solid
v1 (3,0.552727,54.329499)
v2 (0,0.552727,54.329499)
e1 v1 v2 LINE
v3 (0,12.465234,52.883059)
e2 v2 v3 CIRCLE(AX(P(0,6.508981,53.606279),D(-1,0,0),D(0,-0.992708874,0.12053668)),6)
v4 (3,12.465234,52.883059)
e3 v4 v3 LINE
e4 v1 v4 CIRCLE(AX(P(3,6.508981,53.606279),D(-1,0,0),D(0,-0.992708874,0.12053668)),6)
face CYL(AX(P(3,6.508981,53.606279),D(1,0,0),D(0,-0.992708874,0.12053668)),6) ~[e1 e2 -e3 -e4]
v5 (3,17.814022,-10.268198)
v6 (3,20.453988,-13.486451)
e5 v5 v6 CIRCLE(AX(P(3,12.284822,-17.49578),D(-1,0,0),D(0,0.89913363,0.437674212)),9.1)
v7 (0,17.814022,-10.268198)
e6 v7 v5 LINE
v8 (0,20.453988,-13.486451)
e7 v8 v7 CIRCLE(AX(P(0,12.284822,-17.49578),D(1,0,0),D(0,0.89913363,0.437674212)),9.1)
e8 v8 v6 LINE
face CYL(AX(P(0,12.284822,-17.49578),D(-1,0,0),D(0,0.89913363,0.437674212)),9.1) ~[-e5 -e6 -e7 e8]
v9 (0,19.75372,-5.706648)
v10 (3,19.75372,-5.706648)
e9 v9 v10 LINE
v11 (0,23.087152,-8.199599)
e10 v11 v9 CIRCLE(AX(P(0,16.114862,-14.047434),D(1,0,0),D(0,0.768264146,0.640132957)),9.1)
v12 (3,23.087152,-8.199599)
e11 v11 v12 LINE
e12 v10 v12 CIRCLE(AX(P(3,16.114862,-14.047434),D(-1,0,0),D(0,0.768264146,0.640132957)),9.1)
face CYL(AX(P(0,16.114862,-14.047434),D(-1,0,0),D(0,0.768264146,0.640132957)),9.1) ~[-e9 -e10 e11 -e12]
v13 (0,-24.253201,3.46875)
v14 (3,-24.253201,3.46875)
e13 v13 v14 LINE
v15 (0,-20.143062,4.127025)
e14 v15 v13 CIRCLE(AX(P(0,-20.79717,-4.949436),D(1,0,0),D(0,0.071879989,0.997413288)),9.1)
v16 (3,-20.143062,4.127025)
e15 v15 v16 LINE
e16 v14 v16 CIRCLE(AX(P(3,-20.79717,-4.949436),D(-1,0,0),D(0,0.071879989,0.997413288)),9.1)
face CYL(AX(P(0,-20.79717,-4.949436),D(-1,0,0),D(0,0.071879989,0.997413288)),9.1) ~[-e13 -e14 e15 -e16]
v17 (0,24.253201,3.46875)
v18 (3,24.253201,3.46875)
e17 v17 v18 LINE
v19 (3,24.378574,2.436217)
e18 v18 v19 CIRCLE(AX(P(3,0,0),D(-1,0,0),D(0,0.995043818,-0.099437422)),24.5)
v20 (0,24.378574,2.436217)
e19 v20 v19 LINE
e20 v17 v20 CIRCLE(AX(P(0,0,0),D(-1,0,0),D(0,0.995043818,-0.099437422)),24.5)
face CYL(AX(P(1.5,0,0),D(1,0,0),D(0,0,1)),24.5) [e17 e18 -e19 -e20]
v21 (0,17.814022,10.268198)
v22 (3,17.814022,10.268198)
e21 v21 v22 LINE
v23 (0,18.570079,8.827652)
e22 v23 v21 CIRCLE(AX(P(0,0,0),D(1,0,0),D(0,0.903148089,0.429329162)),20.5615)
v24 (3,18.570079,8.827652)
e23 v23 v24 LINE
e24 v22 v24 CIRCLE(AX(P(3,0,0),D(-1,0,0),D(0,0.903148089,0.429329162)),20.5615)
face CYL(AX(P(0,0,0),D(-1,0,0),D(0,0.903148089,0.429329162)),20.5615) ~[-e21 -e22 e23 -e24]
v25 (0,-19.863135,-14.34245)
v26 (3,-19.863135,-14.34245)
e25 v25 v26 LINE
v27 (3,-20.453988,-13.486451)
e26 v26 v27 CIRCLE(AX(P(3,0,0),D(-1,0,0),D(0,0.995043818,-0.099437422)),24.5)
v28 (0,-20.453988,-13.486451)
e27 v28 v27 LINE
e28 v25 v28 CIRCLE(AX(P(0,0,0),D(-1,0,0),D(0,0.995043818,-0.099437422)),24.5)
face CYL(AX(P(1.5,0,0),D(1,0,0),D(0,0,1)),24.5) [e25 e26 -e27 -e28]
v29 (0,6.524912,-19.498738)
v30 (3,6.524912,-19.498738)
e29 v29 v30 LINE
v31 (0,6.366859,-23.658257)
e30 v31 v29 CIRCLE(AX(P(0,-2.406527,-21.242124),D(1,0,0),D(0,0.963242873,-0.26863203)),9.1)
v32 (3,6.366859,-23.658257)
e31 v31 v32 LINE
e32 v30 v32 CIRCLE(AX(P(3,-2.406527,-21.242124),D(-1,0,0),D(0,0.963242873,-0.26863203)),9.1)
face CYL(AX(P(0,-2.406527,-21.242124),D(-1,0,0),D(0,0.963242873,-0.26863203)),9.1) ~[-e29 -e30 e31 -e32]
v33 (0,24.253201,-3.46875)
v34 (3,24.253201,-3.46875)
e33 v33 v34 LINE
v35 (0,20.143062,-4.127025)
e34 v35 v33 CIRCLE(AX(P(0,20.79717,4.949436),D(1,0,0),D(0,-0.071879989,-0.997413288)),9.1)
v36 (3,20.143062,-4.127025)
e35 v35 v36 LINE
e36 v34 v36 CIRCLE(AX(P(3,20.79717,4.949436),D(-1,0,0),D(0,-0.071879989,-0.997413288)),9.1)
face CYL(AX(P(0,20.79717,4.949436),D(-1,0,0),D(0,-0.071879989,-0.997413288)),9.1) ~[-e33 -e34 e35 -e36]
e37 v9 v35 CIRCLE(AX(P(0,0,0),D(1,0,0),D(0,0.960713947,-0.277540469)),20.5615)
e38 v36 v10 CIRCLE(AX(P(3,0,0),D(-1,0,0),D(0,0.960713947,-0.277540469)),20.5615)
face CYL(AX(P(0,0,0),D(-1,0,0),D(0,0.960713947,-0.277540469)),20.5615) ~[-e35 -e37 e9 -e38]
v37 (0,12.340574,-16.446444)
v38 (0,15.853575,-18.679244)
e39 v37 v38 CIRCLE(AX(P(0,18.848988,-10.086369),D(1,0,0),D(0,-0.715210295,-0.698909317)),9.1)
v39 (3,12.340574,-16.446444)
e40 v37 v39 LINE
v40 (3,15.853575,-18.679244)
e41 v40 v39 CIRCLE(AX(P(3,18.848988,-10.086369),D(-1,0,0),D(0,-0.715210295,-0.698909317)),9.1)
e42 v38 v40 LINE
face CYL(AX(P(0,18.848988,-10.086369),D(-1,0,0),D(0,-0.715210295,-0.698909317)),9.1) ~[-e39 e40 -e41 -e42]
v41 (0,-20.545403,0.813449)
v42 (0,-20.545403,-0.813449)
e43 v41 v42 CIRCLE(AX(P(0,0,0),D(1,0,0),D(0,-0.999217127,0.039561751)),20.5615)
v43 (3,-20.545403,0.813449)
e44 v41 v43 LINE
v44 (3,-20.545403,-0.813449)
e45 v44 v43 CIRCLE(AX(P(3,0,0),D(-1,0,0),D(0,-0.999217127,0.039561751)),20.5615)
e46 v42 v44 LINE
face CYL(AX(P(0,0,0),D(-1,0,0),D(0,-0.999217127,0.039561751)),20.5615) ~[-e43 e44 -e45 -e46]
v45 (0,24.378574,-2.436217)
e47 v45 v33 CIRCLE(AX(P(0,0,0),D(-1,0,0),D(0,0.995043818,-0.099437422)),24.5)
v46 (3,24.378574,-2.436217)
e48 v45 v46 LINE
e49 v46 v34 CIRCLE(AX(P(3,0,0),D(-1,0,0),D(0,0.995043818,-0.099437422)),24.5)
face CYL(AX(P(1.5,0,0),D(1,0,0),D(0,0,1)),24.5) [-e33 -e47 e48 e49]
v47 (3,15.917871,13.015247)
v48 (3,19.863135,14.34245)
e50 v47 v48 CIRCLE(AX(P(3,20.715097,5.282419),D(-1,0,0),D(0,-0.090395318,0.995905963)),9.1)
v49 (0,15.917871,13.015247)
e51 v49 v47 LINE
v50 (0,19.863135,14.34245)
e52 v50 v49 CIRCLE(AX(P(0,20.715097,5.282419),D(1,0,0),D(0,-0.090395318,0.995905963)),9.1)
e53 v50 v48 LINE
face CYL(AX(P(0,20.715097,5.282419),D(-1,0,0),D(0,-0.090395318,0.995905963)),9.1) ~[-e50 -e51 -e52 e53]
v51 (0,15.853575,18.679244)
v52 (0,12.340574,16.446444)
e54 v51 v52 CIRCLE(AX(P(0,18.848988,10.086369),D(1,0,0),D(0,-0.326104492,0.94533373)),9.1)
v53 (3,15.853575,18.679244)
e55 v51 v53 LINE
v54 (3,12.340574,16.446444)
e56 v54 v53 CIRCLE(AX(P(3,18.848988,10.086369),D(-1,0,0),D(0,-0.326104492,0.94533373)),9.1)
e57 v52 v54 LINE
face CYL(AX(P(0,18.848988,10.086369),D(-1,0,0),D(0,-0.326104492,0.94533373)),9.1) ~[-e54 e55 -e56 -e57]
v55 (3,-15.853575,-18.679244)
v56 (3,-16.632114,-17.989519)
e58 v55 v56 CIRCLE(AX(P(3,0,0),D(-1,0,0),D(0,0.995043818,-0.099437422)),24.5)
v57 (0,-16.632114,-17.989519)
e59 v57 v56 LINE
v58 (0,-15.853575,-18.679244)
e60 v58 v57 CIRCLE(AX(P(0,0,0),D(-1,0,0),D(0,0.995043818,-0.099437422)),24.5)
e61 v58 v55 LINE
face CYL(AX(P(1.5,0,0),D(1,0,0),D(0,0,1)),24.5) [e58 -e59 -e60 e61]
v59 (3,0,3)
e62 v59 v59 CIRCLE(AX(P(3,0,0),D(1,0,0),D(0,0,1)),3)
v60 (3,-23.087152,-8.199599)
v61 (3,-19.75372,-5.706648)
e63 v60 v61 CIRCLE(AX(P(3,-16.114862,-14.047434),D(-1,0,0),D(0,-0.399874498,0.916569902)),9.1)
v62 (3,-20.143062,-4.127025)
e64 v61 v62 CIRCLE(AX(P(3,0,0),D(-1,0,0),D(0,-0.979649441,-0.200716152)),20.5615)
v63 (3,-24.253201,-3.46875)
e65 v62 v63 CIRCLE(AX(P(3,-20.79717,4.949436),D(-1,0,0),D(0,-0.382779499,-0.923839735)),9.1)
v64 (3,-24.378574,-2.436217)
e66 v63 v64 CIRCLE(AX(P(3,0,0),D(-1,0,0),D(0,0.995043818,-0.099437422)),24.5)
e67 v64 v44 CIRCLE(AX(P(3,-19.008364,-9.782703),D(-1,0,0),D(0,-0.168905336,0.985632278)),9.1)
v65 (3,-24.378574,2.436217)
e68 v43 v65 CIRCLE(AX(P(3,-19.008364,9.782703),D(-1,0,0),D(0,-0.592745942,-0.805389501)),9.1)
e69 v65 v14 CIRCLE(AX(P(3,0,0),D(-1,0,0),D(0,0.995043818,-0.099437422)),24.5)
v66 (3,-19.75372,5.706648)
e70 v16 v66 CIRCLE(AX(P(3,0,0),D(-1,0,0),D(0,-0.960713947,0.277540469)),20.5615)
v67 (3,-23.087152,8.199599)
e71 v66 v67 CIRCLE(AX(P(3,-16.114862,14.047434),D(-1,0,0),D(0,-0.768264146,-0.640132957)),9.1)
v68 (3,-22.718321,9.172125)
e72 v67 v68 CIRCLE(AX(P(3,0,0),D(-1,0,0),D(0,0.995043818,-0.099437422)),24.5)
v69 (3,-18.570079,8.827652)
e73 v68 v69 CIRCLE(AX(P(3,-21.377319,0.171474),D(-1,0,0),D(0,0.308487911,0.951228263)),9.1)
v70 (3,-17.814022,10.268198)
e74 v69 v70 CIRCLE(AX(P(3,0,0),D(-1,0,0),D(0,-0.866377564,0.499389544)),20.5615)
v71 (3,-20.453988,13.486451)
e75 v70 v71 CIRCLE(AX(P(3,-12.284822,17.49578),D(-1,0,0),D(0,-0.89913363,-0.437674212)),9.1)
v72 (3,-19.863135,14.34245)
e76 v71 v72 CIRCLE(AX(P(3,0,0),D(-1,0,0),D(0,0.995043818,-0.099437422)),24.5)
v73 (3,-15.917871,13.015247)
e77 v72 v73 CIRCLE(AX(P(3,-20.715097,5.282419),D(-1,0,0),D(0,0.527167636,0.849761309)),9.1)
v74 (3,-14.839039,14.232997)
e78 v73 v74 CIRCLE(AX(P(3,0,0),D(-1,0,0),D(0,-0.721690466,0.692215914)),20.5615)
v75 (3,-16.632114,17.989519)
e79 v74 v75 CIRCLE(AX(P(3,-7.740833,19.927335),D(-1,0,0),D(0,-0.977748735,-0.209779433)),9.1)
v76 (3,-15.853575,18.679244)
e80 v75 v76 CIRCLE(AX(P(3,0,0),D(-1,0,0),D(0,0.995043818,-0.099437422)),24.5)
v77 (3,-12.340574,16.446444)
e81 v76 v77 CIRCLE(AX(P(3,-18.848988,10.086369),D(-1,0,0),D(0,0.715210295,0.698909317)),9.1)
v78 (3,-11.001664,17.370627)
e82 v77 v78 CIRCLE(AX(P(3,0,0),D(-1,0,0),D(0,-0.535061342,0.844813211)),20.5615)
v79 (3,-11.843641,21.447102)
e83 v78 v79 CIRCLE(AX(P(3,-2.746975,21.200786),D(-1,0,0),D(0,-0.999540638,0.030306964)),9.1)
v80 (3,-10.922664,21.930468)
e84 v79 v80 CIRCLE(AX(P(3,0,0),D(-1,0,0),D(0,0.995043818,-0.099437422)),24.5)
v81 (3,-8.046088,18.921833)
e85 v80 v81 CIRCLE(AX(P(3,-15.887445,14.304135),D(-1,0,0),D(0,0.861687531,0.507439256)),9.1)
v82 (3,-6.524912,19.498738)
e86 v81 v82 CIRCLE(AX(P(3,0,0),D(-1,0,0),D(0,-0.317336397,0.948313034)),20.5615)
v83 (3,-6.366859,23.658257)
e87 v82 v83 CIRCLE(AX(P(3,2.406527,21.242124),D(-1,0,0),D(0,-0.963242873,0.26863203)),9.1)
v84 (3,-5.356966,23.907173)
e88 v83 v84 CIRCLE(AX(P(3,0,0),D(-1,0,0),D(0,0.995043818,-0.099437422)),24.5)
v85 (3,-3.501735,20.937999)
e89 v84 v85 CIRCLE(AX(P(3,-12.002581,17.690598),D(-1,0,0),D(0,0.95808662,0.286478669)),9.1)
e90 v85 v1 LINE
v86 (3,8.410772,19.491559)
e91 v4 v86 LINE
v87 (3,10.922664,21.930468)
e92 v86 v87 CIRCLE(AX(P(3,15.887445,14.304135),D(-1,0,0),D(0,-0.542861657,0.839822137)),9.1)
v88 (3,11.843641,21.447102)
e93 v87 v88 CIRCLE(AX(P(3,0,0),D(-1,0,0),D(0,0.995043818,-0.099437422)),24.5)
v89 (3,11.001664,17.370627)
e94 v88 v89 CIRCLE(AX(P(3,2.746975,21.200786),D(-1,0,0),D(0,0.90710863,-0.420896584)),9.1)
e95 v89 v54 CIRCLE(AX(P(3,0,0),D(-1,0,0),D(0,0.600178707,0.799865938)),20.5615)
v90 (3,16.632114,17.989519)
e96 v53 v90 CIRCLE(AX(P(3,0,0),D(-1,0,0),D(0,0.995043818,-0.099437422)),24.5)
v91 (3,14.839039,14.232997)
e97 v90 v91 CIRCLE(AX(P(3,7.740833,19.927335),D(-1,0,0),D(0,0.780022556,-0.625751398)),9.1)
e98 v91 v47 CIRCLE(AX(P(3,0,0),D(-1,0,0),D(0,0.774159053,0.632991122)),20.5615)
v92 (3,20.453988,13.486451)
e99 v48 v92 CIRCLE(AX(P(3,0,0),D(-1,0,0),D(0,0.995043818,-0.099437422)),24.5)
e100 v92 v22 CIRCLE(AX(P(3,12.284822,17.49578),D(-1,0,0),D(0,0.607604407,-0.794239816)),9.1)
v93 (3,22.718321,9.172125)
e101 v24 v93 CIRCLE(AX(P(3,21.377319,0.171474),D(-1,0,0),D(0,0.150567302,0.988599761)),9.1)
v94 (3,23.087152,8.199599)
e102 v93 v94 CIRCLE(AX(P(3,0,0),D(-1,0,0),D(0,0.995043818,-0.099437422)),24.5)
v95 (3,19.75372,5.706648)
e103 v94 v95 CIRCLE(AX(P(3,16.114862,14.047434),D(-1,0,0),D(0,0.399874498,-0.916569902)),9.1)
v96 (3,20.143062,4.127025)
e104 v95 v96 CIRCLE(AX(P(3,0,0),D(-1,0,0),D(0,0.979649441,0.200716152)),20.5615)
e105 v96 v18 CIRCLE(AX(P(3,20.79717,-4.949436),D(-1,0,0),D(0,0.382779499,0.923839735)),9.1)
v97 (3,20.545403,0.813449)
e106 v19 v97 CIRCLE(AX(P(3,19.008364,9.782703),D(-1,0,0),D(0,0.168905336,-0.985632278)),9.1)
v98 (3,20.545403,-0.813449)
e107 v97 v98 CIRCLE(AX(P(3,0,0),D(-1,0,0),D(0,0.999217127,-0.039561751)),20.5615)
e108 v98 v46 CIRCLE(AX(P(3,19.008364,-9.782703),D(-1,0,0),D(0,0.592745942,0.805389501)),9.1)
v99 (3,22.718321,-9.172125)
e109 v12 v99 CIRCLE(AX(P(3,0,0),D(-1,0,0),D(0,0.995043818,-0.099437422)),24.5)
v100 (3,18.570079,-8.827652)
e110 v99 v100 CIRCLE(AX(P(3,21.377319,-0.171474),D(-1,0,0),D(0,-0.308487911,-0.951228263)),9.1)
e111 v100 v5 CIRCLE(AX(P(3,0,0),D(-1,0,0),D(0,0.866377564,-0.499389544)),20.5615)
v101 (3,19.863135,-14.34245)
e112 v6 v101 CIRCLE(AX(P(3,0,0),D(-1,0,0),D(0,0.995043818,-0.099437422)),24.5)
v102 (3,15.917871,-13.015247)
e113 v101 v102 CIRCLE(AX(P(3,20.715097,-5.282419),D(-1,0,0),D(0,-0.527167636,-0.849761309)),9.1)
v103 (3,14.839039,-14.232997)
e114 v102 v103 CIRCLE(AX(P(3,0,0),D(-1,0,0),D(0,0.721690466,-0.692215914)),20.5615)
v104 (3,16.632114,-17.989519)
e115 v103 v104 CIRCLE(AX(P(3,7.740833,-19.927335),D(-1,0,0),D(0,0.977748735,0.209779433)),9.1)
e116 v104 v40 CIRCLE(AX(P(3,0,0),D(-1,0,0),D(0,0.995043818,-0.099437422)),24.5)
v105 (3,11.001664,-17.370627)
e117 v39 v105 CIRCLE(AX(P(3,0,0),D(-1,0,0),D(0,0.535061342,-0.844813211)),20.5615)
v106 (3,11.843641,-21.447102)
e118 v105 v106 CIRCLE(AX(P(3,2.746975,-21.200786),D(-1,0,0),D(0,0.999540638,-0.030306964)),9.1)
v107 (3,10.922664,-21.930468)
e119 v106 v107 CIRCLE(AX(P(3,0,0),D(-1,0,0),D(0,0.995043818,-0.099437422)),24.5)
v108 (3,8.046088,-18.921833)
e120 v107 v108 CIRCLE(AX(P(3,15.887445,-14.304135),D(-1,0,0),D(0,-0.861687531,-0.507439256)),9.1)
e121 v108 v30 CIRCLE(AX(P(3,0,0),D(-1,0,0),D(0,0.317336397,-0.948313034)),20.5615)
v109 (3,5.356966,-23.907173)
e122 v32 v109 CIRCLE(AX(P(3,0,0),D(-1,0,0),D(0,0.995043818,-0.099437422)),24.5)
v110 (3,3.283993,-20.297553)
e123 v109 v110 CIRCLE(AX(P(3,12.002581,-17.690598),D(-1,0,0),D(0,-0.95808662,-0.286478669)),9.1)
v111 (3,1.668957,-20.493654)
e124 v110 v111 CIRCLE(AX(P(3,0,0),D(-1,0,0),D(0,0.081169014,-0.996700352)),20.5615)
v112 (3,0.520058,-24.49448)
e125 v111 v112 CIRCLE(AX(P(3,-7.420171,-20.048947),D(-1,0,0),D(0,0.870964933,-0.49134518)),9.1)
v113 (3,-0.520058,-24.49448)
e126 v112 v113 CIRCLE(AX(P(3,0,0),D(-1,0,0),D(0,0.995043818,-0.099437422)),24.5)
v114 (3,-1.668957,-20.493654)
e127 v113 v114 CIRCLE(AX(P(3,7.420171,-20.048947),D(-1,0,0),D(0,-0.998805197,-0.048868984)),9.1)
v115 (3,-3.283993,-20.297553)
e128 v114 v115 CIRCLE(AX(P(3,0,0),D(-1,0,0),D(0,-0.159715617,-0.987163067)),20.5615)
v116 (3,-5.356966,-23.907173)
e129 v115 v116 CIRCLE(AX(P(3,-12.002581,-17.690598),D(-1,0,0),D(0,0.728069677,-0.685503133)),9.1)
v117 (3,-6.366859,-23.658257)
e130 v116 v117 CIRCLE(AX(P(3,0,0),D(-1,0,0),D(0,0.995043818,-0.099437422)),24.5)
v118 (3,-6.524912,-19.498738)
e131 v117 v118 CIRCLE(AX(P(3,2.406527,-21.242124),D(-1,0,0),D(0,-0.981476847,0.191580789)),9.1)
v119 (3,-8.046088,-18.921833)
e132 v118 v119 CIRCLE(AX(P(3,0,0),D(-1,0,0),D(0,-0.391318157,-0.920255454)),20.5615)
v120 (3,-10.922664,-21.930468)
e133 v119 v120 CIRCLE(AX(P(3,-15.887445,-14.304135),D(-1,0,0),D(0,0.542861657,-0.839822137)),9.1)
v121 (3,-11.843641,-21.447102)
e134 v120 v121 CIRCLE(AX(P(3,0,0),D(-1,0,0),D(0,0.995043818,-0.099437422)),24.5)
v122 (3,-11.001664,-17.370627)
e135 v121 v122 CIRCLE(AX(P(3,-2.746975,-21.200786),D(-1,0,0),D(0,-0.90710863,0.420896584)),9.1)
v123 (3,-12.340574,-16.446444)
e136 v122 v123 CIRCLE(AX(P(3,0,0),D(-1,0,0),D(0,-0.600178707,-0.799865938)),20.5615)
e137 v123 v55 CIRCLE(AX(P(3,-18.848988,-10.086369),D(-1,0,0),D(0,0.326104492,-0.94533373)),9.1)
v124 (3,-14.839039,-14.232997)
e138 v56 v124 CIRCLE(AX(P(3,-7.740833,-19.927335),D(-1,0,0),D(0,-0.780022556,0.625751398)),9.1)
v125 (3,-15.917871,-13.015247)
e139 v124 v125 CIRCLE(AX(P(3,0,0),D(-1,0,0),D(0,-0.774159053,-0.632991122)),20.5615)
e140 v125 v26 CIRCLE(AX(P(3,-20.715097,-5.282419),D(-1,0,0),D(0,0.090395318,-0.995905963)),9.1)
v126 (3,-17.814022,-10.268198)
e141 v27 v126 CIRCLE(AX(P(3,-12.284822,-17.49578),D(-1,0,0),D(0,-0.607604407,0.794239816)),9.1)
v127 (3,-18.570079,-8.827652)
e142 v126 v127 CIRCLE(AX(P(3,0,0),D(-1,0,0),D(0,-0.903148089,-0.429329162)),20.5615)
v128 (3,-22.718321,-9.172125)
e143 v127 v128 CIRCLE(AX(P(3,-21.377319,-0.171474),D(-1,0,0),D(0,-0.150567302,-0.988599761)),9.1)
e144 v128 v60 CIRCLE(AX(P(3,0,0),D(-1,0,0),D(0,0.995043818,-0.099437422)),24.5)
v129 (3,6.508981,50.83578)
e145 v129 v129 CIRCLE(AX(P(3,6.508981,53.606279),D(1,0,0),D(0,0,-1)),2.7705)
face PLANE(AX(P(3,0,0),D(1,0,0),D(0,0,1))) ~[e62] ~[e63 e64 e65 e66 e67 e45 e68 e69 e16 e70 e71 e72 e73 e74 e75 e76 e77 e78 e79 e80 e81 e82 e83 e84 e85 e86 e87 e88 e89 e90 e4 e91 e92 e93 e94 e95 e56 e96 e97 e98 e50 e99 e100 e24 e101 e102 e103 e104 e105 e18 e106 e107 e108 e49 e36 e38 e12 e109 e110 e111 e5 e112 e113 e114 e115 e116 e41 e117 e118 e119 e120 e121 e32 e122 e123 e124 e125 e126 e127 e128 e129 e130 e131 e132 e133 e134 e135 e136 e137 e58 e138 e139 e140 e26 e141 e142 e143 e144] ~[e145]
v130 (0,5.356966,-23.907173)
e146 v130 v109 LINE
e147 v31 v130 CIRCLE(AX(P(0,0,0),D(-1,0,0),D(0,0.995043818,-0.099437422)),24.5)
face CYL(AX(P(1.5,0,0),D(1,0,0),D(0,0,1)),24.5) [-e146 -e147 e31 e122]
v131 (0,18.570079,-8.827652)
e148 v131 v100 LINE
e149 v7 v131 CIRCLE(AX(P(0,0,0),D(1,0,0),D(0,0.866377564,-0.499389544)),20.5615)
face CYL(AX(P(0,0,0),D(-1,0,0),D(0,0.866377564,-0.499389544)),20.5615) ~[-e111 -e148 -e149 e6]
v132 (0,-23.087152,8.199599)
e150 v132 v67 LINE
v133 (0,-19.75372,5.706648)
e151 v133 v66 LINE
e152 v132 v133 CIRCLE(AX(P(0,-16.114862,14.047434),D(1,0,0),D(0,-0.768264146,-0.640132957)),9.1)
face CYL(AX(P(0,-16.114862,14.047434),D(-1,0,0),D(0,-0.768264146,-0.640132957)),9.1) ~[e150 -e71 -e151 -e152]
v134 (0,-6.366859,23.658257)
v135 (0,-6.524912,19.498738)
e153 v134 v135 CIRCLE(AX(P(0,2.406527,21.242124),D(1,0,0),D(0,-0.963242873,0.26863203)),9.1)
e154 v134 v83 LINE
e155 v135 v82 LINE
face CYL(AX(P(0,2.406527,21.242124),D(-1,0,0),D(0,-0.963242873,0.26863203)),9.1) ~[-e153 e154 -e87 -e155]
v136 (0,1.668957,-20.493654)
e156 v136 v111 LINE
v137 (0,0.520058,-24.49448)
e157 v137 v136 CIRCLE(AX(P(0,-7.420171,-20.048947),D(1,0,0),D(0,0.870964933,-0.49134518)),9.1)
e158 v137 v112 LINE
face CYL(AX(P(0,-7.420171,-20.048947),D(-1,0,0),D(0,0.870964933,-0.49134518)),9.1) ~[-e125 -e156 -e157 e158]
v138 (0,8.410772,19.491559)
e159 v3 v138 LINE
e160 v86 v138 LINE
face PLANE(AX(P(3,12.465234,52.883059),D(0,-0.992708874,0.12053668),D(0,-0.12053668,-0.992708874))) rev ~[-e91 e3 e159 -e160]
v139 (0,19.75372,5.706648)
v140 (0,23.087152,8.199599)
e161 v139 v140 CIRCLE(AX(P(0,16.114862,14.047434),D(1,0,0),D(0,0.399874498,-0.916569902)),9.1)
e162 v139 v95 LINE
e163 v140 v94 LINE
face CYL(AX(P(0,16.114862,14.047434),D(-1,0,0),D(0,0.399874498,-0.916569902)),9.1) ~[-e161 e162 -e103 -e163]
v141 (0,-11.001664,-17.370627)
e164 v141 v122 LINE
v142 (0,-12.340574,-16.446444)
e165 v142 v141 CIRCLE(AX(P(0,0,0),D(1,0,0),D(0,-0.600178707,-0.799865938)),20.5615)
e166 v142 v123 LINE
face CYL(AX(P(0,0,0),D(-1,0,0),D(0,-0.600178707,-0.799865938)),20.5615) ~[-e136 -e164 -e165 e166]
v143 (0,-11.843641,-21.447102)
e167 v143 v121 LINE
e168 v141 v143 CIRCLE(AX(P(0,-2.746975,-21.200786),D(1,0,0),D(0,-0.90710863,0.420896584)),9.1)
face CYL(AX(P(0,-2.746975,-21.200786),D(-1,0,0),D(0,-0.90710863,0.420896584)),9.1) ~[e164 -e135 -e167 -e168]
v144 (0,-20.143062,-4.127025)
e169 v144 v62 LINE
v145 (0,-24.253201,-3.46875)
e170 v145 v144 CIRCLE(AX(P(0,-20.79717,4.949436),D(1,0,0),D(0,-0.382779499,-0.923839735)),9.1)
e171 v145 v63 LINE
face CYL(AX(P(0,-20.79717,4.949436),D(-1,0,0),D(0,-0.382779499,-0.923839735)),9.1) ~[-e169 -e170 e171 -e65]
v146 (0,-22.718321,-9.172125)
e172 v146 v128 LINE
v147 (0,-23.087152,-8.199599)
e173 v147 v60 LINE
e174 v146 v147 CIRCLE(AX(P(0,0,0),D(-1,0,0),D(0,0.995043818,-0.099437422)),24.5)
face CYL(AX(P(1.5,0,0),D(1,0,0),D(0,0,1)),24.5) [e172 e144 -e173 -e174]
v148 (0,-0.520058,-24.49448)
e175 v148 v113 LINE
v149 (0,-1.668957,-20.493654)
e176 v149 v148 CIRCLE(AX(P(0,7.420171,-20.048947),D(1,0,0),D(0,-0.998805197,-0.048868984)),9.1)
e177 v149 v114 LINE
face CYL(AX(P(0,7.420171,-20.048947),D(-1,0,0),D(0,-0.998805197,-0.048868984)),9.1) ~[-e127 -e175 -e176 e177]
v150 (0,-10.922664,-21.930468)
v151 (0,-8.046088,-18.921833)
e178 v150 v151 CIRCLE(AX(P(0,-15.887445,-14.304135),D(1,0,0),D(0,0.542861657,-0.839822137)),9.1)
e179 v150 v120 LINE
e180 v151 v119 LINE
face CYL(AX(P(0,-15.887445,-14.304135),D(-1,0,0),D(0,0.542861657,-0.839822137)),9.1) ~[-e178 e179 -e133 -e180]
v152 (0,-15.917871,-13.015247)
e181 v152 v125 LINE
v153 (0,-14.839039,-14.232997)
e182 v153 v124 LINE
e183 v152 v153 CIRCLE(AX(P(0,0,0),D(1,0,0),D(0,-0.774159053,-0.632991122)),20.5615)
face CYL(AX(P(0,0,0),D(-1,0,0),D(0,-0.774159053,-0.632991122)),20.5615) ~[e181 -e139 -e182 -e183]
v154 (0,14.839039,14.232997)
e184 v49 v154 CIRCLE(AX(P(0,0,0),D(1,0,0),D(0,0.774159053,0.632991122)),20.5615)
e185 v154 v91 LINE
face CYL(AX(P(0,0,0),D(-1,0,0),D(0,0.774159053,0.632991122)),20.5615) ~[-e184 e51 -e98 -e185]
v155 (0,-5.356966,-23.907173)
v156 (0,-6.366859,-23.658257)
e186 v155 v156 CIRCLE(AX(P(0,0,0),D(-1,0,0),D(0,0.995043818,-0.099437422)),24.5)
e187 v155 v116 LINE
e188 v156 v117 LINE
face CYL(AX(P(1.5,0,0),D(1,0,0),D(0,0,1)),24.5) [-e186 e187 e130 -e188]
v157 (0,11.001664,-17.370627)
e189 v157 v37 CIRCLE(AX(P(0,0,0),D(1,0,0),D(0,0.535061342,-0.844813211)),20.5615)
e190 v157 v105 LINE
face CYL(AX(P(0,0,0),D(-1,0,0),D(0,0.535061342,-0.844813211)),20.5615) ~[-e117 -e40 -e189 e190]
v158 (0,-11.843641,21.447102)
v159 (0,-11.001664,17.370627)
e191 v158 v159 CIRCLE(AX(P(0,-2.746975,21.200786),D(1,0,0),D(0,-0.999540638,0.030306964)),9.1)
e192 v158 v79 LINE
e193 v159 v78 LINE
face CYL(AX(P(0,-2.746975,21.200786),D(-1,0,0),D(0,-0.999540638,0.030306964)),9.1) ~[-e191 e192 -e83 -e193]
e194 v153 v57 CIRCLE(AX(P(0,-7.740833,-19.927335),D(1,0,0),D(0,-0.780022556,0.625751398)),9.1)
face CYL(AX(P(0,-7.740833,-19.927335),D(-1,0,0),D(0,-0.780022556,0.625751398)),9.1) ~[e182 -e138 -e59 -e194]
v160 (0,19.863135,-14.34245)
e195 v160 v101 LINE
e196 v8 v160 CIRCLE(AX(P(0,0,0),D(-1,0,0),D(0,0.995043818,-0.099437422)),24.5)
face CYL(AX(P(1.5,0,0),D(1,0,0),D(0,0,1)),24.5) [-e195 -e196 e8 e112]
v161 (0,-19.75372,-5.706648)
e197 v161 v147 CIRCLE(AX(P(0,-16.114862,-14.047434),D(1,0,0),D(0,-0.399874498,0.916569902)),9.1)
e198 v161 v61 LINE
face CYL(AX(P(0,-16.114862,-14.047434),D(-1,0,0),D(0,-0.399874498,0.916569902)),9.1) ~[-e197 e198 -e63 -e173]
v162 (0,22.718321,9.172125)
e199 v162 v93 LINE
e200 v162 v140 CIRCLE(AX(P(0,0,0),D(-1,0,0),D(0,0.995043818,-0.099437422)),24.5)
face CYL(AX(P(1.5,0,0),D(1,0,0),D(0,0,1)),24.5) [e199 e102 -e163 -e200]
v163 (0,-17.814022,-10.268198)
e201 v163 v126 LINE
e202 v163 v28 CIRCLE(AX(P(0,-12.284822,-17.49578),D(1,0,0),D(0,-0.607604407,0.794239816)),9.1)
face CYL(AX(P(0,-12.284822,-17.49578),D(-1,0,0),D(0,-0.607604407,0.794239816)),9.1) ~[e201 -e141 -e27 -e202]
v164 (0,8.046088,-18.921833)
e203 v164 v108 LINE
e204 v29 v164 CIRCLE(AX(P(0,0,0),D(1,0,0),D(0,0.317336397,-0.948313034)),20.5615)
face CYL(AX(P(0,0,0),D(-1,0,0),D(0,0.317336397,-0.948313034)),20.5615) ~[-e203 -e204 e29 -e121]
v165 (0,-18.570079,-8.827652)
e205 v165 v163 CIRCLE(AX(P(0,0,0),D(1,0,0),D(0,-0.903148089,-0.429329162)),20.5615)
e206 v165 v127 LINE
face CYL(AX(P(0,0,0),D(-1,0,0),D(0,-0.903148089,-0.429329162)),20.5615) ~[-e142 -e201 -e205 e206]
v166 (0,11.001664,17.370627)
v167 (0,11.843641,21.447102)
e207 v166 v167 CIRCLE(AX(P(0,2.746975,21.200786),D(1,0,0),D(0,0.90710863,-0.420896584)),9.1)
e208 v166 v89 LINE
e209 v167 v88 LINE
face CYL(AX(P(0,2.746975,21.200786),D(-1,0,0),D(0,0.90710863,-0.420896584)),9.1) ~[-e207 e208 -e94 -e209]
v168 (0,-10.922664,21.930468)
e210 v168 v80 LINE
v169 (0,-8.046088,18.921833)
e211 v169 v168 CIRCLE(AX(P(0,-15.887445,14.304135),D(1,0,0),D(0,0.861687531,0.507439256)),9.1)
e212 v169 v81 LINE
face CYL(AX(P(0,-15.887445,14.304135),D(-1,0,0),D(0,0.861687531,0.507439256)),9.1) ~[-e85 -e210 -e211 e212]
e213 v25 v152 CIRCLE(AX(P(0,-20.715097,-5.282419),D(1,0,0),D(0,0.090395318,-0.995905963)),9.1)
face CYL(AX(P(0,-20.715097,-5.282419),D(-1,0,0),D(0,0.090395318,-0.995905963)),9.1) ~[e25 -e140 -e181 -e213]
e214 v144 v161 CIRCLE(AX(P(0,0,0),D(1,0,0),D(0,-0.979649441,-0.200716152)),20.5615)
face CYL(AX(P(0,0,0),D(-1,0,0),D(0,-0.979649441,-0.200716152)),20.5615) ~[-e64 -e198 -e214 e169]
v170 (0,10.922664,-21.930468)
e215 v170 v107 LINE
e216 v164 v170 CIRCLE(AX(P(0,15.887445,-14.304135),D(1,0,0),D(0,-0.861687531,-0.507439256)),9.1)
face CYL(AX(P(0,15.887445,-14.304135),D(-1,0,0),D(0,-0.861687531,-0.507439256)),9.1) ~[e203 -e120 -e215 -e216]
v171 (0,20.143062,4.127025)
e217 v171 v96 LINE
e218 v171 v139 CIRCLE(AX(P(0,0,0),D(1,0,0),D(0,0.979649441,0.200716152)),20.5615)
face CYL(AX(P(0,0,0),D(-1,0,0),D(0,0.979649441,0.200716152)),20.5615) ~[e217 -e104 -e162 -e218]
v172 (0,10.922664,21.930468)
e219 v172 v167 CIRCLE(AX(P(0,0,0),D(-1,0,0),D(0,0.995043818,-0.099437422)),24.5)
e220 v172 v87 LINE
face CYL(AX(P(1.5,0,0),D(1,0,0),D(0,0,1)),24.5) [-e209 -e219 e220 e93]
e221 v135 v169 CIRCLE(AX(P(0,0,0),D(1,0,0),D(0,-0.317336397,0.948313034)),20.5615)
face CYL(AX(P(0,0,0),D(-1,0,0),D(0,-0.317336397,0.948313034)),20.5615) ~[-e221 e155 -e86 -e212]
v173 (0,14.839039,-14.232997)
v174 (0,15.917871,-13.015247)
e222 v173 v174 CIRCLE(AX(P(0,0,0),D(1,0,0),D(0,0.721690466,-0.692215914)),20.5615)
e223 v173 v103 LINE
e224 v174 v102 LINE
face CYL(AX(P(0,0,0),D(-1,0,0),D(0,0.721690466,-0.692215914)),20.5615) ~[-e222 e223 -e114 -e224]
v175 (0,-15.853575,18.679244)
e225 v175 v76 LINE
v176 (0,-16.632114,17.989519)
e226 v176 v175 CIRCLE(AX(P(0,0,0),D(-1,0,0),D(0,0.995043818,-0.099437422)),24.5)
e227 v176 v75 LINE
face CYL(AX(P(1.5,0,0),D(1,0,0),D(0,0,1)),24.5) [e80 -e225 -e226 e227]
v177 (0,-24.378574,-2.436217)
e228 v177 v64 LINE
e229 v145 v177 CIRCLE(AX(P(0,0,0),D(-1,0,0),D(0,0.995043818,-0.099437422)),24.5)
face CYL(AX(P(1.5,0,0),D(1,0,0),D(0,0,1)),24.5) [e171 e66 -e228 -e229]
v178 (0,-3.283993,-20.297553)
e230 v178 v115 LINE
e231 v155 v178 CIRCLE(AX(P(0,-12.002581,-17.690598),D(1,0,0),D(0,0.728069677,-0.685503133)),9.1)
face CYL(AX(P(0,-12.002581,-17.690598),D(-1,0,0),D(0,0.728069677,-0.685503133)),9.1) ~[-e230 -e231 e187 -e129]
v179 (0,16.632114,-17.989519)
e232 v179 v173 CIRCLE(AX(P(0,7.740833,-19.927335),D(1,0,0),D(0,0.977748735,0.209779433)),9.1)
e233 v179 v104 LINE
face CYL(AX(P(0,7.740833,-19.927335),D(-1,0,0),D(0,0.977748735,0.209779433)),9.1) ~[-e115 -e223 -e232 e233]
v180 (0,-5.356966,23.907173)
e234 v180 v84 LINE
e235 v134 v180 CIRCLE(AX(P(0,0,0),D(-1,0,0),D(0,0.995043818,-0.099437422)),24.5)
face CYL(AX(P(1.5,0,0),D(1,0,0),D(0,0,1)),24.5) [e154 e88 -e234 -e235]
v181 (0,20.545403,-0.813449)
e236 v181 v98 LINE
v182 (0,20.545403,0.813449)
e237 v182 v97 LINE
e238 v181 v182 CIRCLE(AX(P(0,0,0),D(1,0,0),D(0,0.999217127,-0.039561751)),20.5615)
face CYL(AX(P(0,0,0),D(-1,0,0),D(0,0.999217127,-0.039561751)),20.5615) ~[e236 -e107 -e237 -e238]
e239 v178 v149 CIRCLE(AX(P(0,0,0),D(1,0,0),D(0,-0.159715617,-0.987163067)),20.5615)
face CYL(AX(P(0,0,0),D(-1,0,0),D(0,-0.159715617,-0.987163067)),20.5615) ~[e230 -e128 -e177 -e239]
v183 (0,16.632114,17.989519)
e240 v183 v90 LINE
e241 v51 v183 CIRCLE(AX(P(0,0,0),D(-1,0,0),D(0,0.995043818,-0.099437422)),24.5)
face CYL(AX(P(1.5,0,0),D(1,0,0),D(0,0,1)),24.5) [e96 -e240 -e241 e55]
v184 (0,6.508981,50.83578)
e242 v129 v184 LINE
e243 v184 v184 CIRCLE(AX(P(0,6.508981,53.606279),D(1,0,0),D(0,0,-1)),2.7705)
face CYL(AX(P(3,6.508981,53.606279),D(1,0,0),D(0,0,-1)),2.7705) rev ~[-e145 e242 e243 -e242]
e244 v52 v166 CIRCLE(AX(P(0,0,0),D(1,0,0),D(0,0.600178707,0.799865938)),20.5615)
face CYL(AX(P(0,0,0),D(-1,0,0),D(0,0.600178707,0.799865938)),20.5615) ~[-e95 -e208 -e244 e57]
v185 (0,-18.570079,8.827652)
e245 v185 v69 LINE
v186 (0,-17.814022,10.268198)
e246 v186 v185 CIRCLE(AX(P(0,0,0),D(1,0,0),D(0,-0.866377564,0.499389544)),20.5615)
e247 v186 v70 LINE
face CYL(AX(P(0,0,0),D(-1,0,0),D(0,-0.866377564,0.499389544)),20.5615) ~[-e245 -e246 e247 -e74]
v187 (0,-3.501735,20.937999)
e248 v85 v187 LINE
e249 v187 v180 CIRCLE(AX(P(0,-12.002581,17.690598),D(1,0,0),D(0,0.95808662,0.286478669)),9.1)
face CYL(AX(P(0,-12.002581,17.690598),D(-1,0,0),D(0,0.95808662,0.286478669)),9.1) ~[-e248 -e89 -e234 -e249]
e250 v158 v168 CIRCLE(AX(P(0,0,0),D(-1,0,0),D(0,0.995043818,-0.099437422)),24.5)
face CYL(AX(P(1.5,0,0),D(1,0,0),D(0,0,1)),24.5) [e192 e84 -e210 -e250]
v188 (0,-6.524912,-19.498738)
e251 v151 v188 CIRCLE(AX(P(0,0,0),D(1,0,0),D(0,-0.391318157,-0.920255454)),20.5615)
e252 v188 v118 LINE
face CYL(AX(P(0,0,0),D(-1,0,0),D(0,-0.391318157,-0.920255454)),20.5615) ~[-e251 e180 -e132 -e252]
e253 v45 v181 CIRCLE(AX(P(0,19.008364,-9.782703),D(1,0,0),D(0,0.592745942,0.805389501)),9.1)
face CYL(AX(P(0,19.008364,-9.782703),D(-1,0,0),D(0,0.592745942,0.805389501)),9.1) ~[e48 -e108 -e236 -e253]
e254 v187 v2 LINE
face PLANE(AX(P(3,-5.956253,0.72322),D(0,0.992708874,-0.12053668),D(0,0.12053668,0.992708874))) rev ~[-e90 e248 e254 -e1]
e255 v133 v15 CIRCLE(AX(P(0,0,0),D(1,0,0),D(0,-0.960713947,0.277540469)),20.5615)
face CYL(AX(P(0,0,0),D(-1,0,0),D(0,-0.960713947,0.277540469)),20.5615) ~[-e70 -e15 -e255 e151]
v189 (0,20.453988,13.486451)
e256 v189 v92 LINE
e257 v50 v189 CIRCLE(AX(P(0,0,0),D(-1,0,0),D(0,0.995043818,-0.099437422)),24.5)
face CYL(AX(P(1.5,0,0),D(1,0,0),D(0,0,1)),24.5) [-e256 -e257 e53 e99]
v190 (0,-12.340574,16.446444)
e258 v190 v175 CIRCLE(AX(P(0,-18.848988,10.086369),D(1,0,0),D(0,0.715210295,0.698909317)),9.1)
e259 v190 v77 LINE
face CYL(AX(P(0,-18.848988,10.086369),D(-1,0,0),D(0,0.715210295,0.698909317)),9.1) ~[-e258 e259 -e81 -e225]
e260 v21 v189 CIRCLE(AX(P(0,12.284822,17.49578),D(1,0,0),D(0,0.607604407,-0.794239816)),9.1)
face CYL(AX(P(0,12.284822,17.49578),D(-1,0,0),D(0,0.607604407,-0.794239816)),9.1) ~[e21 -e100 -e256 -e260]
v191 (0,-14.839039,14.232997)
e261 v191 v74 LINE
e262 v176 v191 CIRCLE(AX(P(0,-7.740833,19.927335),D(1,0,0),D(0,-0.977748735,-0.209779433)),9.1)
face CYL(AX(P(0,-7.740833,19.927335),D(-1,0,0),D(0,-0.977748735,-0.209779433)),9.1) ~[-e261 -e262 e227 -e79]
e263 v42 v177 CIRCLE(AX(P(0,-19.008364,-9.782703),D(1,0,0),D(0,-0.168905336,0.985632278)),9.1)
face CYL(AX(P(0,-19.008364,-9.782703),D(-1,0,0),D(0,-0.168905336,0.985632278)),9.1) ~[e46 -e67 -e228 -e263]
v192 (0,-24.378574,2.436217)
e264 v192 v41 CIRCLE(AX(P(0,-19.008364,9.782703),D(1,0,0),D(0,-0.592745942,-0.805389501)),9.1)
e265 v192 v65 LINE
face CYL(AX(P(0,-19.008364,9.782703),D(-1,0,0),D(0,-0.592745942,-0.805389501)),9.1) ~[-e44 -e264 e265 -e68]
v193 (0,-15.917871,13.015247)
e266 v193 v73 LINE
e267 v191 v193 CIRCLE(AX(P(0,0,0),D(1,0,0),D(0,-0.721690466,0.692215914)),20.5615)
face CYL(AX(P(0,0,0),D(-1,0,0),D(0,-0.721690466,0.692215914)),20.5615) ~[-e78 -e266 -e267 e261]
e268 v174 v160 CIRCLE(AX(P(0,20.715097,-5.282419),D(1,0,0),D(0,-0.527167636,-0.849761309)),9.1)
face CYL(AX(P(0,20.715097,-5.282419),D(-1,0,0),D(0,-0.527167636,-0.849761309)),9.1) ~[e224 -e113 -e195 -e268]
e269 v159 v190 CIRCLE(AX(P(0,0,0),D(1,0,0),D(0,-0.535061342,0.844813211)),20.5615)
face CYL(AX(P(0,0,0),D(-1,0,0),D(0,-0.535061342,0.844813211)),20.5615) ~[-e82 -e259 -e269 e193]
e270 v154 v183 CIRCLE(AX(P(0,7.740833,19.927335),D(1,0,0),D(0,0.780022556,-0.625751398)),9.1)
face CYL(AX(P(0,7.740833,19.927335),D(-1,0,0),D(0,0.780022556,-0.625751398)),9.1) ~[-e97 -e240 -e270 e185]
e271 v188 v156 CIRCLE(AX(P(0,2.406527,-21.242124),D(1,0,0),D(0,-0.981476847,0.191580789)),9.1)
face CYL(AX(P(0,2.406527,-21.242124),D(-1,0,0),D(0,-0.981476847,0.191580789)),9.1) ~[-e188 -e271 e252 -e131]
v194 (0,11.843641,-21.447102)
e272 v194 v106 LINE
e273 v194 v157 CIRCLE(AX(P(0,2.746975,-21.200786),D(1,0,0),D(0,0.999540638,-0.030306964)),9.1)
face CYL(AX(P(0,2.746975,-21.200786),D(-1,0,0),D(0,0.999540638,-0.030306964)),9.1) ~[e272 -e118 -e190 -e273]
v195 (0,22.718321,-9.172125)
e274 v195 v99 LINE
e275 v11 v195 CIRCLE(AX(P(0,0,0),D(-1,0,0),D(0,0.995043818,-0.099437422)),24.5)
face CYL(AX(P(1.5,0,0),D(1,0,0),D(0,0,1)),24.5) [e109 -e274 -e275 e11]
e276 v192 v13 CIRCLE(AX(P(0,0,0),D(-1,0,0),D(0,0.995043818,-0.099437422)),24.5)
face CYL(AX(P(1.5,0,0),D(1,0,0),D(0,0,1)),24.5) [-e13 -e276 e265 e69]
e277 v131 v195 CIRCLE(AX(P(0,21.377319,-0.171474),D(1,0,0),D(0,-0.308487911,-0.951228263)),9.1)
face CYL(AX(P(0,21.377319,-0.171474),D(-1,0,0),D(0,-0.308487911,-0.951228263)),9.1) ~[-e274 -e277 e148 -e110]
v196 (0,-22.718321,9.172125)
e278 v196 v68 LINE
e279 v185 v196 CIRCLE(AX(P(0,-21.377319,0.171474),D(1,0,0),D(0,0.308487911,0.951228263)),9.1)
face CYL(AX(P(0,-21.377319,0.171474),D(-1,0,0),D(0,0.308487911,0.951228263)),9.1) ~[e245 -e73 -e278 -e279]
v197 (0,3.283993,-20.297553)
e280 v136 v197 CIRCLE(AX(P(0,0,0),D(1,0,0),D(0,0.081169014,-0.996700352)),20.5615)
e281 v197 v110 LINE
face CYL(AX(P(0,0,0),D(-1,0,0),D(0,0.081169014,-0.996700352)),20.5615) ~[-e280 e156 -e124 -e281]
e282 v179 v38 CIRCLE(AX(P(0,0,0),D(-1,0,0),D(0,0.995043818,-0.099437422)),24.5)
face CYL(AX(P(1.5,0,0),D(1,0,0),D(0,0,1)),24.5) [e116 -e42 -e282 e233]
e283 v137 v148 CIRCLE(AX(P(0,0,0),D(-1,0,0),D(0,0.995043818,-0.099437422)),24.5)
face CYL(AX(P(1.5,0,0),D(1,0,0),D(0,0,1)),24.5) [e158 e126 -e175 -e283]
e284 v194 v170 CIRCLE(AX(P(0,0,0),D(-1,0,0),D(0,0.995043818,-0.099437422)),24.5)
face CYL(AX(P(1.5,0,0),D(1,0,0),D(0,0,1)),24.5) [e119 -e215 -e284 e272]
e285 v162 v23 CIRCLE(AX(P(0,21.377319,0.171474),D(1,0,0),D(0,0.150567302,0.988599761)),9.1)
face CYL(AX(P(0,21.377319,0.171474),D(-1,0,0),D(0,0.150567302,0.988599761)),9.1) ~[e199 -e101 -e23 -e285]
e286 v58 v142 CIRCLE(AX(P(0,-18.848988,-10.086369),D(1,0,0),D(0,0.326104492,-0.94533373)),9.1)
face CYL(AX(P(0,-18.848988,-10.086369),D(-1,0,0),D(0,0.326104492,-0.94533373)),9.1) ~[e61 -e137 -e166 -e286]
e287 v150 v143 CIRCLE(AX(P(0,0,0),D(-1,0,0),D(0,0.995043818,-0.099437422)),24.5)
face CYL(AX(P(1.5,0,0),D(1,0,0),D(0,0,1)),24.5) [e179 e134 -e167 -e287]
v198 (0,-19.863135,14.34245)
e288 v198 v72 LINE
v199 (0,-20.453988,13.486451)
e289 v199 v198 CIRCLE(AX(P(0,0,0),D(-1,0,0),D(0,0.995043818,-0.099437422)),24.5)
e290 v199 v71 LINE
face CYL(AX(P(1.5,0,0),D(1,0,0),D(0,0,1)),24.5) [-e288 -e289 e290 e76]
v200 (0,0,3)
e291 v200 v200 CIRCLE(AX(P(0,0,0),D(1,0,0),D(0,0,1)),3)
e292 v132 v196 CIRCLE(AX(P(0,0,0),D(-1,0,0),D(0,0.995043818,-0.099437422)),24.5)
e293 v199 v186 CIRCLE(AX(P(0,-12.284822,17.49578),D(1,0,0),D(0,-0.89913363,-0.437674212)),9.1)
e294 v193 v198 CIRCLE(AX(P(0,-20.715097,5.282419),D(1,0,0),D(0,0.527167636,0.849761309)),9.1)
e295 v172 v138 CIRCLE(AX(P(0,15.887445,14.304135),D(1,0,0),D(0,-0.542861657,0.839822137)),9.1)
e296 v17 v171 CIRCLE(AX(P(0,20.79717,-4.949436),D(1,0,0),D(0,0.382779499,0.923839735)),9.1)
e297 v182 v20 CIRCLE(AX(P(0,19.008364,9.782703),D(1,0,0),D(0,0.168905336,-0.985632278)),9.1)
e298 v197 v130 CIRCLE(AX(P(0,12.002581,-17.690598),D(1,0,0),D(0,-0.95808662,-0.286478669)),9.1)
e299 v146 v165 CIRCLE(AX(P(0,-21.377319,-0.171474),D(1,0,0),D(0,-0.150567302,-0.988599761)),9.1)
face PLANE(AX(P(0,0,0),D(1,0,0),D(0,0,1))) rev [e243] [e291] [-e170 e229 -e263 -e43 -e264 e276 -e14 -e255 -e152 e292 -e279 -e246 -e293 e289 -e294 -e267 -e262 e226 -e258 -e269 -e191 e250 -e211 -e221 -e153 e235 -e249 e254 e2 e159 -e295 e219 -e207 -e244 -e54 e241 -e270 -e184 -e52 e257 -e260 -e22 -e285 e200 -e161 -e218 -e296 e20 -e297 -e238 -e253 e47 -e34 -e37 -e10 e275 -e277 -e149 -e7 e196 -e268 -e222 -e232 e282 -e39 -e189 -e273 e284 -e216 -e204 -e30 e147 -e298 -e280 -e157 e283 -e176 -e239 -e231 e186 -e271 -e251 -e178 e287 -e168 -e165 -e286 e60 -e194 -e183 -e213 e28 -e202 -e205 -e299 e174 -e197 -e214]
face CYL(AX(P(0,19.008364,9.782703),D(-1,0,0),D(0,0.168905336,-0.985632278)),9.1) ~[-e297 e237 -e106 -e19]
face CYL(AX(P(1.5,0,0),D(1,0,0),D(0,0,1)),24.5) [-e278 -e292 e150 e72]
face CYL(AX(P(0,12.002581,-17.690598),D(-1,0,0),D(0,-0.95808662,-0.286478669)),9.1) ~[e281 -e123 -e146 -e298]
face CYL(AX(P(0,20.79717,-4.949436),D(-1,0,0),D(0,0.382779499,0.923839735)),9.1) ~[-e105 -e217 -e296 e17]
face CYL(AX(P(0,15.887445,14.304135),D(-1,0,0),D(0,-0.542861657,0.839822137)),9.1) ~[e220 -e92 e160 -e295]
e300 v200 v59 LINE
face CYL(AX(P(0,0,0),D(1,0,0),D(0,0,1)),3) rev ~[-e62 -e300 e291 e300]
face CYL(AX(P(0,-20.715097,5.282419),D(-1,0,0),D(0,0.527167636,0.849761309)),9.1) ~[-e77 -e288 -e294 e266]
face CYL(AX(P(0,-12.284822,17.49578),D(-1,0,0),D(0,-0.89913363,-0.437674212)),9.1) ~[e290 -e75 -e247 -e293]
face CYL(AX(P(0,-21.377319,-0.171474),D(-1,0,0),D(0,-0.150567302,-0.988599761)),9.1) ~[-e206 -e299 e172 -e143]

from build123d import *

# Parameters (mm, degrees)
BASPROSKE_W         = 3
BASPROSKE_H         = 24.5
TOOTHCUT_DEPTH      = 35.777866525
TEETHCUTS_COUNT     = 26
TEETHCUTS_ANGLE     = 346.153846154
BORSKE_R            = 3
BORE_DEPTH          = 50.0000508
BOSS_EXTRUDE1_START = 3
SKETCH1_R           = 2.770499524
SKETCH1_R_2         = 3
BOSS_EXTRUDE1_DEPTH = 3


with BuildPart() as part:
    # BasProSke → Base-Revolve (revolve)
    with BuildSketch(Plane(origin=(0, 0, 0), x_dir=(1, 0, 0), z_dir=(0, 1, 0)), mode=Mode.PRIVATE) as base_revolve_sk:
        with Locations((1.5, 12.25)):
            Rectangle(BASPROSKE_W, BASPROSKE_H)
    revolve(base_revolve_sk.sketch.rotate(Axis((-10, 0, 0), (1, 0, 0)), 180), axis=Axis((-10, 0, 0), (1, 0, 0)))

    # TooCutSke → ToothCut (cut, through all)
    with BuildSketch(Plane(origin=(0, 0, 0), x_dir=(0, 0, -1), z_dir=(1, 0, 0))):
        with BuildLine():
            ThreePointArc((0.813448928, 20.545402967), (0, 20.5615), (-0.813448928, 20.545402967))
            ThreePointArc((-0.813448928, 20.545402967), (-1.408477569, 22.569593712), (-2.4536582, 24.402352481))
            ThreePointArc((-2.4536582, 24.402352481), (0, 24.5254), (2.4536582, 24.402352481))
            ThreePointArc((2.4536582, 24.402352481), (1.408477569, 22.569593712), (0.813448928, 20.545402967))
        make_face()
    toothcut = extrude(amount=TOOTHCUT_DEPTH, mode=Mode.SUBTRACT)

    # TeethCuts: ToothCut ×26 about axis
    teethcuts_axis = Axis((-10, 0, 0), (1, 0, 0))
    for i in range(1, TEETHCUTS_COUNT):
        add(toothcut.rotate(teethcuts_axis, i * TEETHCUTS_ANGLE / (TEETHCUTS_COUNT - 1)), mode=Mode.SUBTRACT)

    # BorSke → Bore (cut, symmetric)
    with BuildSketch(Plane(origin=(0, 0, 0), x_dir=(0, 0, -1), z_dir=(1, 0, 0))):
        with Locations(Location((0, 0, 0), (0, 0, 180))):
            Circle(BORSKE_R)
    extrude(amount=BORE_DEPTH, both=True, mode=Mode.SUBTRACT)

    # Sketch1 → Boss-Extrude1 (add)
    with BuildSketch(Plane(origin=(0, 0, 0), x_dir=(0, 0, -1), z_dir=(1, 0, 0)).offset(BOSS_EXTRUDE1_START)):
        with BuildLine():
            Line((-0.723220082, -5.956253245), (-54.329499283, 0.552727489))
            ThreePointArc((-54.329499283, 0.552727489), (-59.562532446, 7.232200815), (-52.88305912, 12.465233978))
            Line((-52.88305912, 12.465233978), (0.723220082, 5.956253245))
            ThreePointArc((0.723220082, 5.956253245), (5.956253245, -0.723220082), (-0.723220082, -5.956253245))
        make_face()
        with Locations((-53.606279201, 6.508980734)):
            Circle(SKETCH1_R, mode=Mode.SUBTRACT)
        with Locations(Location((0, 0, 0), (0, 0, 180))):
            Circle(SKETCH1_R_2, mode=Mode.SUBTRACT)
    extrude(amount=-BOSS_EXTRUDE1_DEPTH)


solid = part.part
